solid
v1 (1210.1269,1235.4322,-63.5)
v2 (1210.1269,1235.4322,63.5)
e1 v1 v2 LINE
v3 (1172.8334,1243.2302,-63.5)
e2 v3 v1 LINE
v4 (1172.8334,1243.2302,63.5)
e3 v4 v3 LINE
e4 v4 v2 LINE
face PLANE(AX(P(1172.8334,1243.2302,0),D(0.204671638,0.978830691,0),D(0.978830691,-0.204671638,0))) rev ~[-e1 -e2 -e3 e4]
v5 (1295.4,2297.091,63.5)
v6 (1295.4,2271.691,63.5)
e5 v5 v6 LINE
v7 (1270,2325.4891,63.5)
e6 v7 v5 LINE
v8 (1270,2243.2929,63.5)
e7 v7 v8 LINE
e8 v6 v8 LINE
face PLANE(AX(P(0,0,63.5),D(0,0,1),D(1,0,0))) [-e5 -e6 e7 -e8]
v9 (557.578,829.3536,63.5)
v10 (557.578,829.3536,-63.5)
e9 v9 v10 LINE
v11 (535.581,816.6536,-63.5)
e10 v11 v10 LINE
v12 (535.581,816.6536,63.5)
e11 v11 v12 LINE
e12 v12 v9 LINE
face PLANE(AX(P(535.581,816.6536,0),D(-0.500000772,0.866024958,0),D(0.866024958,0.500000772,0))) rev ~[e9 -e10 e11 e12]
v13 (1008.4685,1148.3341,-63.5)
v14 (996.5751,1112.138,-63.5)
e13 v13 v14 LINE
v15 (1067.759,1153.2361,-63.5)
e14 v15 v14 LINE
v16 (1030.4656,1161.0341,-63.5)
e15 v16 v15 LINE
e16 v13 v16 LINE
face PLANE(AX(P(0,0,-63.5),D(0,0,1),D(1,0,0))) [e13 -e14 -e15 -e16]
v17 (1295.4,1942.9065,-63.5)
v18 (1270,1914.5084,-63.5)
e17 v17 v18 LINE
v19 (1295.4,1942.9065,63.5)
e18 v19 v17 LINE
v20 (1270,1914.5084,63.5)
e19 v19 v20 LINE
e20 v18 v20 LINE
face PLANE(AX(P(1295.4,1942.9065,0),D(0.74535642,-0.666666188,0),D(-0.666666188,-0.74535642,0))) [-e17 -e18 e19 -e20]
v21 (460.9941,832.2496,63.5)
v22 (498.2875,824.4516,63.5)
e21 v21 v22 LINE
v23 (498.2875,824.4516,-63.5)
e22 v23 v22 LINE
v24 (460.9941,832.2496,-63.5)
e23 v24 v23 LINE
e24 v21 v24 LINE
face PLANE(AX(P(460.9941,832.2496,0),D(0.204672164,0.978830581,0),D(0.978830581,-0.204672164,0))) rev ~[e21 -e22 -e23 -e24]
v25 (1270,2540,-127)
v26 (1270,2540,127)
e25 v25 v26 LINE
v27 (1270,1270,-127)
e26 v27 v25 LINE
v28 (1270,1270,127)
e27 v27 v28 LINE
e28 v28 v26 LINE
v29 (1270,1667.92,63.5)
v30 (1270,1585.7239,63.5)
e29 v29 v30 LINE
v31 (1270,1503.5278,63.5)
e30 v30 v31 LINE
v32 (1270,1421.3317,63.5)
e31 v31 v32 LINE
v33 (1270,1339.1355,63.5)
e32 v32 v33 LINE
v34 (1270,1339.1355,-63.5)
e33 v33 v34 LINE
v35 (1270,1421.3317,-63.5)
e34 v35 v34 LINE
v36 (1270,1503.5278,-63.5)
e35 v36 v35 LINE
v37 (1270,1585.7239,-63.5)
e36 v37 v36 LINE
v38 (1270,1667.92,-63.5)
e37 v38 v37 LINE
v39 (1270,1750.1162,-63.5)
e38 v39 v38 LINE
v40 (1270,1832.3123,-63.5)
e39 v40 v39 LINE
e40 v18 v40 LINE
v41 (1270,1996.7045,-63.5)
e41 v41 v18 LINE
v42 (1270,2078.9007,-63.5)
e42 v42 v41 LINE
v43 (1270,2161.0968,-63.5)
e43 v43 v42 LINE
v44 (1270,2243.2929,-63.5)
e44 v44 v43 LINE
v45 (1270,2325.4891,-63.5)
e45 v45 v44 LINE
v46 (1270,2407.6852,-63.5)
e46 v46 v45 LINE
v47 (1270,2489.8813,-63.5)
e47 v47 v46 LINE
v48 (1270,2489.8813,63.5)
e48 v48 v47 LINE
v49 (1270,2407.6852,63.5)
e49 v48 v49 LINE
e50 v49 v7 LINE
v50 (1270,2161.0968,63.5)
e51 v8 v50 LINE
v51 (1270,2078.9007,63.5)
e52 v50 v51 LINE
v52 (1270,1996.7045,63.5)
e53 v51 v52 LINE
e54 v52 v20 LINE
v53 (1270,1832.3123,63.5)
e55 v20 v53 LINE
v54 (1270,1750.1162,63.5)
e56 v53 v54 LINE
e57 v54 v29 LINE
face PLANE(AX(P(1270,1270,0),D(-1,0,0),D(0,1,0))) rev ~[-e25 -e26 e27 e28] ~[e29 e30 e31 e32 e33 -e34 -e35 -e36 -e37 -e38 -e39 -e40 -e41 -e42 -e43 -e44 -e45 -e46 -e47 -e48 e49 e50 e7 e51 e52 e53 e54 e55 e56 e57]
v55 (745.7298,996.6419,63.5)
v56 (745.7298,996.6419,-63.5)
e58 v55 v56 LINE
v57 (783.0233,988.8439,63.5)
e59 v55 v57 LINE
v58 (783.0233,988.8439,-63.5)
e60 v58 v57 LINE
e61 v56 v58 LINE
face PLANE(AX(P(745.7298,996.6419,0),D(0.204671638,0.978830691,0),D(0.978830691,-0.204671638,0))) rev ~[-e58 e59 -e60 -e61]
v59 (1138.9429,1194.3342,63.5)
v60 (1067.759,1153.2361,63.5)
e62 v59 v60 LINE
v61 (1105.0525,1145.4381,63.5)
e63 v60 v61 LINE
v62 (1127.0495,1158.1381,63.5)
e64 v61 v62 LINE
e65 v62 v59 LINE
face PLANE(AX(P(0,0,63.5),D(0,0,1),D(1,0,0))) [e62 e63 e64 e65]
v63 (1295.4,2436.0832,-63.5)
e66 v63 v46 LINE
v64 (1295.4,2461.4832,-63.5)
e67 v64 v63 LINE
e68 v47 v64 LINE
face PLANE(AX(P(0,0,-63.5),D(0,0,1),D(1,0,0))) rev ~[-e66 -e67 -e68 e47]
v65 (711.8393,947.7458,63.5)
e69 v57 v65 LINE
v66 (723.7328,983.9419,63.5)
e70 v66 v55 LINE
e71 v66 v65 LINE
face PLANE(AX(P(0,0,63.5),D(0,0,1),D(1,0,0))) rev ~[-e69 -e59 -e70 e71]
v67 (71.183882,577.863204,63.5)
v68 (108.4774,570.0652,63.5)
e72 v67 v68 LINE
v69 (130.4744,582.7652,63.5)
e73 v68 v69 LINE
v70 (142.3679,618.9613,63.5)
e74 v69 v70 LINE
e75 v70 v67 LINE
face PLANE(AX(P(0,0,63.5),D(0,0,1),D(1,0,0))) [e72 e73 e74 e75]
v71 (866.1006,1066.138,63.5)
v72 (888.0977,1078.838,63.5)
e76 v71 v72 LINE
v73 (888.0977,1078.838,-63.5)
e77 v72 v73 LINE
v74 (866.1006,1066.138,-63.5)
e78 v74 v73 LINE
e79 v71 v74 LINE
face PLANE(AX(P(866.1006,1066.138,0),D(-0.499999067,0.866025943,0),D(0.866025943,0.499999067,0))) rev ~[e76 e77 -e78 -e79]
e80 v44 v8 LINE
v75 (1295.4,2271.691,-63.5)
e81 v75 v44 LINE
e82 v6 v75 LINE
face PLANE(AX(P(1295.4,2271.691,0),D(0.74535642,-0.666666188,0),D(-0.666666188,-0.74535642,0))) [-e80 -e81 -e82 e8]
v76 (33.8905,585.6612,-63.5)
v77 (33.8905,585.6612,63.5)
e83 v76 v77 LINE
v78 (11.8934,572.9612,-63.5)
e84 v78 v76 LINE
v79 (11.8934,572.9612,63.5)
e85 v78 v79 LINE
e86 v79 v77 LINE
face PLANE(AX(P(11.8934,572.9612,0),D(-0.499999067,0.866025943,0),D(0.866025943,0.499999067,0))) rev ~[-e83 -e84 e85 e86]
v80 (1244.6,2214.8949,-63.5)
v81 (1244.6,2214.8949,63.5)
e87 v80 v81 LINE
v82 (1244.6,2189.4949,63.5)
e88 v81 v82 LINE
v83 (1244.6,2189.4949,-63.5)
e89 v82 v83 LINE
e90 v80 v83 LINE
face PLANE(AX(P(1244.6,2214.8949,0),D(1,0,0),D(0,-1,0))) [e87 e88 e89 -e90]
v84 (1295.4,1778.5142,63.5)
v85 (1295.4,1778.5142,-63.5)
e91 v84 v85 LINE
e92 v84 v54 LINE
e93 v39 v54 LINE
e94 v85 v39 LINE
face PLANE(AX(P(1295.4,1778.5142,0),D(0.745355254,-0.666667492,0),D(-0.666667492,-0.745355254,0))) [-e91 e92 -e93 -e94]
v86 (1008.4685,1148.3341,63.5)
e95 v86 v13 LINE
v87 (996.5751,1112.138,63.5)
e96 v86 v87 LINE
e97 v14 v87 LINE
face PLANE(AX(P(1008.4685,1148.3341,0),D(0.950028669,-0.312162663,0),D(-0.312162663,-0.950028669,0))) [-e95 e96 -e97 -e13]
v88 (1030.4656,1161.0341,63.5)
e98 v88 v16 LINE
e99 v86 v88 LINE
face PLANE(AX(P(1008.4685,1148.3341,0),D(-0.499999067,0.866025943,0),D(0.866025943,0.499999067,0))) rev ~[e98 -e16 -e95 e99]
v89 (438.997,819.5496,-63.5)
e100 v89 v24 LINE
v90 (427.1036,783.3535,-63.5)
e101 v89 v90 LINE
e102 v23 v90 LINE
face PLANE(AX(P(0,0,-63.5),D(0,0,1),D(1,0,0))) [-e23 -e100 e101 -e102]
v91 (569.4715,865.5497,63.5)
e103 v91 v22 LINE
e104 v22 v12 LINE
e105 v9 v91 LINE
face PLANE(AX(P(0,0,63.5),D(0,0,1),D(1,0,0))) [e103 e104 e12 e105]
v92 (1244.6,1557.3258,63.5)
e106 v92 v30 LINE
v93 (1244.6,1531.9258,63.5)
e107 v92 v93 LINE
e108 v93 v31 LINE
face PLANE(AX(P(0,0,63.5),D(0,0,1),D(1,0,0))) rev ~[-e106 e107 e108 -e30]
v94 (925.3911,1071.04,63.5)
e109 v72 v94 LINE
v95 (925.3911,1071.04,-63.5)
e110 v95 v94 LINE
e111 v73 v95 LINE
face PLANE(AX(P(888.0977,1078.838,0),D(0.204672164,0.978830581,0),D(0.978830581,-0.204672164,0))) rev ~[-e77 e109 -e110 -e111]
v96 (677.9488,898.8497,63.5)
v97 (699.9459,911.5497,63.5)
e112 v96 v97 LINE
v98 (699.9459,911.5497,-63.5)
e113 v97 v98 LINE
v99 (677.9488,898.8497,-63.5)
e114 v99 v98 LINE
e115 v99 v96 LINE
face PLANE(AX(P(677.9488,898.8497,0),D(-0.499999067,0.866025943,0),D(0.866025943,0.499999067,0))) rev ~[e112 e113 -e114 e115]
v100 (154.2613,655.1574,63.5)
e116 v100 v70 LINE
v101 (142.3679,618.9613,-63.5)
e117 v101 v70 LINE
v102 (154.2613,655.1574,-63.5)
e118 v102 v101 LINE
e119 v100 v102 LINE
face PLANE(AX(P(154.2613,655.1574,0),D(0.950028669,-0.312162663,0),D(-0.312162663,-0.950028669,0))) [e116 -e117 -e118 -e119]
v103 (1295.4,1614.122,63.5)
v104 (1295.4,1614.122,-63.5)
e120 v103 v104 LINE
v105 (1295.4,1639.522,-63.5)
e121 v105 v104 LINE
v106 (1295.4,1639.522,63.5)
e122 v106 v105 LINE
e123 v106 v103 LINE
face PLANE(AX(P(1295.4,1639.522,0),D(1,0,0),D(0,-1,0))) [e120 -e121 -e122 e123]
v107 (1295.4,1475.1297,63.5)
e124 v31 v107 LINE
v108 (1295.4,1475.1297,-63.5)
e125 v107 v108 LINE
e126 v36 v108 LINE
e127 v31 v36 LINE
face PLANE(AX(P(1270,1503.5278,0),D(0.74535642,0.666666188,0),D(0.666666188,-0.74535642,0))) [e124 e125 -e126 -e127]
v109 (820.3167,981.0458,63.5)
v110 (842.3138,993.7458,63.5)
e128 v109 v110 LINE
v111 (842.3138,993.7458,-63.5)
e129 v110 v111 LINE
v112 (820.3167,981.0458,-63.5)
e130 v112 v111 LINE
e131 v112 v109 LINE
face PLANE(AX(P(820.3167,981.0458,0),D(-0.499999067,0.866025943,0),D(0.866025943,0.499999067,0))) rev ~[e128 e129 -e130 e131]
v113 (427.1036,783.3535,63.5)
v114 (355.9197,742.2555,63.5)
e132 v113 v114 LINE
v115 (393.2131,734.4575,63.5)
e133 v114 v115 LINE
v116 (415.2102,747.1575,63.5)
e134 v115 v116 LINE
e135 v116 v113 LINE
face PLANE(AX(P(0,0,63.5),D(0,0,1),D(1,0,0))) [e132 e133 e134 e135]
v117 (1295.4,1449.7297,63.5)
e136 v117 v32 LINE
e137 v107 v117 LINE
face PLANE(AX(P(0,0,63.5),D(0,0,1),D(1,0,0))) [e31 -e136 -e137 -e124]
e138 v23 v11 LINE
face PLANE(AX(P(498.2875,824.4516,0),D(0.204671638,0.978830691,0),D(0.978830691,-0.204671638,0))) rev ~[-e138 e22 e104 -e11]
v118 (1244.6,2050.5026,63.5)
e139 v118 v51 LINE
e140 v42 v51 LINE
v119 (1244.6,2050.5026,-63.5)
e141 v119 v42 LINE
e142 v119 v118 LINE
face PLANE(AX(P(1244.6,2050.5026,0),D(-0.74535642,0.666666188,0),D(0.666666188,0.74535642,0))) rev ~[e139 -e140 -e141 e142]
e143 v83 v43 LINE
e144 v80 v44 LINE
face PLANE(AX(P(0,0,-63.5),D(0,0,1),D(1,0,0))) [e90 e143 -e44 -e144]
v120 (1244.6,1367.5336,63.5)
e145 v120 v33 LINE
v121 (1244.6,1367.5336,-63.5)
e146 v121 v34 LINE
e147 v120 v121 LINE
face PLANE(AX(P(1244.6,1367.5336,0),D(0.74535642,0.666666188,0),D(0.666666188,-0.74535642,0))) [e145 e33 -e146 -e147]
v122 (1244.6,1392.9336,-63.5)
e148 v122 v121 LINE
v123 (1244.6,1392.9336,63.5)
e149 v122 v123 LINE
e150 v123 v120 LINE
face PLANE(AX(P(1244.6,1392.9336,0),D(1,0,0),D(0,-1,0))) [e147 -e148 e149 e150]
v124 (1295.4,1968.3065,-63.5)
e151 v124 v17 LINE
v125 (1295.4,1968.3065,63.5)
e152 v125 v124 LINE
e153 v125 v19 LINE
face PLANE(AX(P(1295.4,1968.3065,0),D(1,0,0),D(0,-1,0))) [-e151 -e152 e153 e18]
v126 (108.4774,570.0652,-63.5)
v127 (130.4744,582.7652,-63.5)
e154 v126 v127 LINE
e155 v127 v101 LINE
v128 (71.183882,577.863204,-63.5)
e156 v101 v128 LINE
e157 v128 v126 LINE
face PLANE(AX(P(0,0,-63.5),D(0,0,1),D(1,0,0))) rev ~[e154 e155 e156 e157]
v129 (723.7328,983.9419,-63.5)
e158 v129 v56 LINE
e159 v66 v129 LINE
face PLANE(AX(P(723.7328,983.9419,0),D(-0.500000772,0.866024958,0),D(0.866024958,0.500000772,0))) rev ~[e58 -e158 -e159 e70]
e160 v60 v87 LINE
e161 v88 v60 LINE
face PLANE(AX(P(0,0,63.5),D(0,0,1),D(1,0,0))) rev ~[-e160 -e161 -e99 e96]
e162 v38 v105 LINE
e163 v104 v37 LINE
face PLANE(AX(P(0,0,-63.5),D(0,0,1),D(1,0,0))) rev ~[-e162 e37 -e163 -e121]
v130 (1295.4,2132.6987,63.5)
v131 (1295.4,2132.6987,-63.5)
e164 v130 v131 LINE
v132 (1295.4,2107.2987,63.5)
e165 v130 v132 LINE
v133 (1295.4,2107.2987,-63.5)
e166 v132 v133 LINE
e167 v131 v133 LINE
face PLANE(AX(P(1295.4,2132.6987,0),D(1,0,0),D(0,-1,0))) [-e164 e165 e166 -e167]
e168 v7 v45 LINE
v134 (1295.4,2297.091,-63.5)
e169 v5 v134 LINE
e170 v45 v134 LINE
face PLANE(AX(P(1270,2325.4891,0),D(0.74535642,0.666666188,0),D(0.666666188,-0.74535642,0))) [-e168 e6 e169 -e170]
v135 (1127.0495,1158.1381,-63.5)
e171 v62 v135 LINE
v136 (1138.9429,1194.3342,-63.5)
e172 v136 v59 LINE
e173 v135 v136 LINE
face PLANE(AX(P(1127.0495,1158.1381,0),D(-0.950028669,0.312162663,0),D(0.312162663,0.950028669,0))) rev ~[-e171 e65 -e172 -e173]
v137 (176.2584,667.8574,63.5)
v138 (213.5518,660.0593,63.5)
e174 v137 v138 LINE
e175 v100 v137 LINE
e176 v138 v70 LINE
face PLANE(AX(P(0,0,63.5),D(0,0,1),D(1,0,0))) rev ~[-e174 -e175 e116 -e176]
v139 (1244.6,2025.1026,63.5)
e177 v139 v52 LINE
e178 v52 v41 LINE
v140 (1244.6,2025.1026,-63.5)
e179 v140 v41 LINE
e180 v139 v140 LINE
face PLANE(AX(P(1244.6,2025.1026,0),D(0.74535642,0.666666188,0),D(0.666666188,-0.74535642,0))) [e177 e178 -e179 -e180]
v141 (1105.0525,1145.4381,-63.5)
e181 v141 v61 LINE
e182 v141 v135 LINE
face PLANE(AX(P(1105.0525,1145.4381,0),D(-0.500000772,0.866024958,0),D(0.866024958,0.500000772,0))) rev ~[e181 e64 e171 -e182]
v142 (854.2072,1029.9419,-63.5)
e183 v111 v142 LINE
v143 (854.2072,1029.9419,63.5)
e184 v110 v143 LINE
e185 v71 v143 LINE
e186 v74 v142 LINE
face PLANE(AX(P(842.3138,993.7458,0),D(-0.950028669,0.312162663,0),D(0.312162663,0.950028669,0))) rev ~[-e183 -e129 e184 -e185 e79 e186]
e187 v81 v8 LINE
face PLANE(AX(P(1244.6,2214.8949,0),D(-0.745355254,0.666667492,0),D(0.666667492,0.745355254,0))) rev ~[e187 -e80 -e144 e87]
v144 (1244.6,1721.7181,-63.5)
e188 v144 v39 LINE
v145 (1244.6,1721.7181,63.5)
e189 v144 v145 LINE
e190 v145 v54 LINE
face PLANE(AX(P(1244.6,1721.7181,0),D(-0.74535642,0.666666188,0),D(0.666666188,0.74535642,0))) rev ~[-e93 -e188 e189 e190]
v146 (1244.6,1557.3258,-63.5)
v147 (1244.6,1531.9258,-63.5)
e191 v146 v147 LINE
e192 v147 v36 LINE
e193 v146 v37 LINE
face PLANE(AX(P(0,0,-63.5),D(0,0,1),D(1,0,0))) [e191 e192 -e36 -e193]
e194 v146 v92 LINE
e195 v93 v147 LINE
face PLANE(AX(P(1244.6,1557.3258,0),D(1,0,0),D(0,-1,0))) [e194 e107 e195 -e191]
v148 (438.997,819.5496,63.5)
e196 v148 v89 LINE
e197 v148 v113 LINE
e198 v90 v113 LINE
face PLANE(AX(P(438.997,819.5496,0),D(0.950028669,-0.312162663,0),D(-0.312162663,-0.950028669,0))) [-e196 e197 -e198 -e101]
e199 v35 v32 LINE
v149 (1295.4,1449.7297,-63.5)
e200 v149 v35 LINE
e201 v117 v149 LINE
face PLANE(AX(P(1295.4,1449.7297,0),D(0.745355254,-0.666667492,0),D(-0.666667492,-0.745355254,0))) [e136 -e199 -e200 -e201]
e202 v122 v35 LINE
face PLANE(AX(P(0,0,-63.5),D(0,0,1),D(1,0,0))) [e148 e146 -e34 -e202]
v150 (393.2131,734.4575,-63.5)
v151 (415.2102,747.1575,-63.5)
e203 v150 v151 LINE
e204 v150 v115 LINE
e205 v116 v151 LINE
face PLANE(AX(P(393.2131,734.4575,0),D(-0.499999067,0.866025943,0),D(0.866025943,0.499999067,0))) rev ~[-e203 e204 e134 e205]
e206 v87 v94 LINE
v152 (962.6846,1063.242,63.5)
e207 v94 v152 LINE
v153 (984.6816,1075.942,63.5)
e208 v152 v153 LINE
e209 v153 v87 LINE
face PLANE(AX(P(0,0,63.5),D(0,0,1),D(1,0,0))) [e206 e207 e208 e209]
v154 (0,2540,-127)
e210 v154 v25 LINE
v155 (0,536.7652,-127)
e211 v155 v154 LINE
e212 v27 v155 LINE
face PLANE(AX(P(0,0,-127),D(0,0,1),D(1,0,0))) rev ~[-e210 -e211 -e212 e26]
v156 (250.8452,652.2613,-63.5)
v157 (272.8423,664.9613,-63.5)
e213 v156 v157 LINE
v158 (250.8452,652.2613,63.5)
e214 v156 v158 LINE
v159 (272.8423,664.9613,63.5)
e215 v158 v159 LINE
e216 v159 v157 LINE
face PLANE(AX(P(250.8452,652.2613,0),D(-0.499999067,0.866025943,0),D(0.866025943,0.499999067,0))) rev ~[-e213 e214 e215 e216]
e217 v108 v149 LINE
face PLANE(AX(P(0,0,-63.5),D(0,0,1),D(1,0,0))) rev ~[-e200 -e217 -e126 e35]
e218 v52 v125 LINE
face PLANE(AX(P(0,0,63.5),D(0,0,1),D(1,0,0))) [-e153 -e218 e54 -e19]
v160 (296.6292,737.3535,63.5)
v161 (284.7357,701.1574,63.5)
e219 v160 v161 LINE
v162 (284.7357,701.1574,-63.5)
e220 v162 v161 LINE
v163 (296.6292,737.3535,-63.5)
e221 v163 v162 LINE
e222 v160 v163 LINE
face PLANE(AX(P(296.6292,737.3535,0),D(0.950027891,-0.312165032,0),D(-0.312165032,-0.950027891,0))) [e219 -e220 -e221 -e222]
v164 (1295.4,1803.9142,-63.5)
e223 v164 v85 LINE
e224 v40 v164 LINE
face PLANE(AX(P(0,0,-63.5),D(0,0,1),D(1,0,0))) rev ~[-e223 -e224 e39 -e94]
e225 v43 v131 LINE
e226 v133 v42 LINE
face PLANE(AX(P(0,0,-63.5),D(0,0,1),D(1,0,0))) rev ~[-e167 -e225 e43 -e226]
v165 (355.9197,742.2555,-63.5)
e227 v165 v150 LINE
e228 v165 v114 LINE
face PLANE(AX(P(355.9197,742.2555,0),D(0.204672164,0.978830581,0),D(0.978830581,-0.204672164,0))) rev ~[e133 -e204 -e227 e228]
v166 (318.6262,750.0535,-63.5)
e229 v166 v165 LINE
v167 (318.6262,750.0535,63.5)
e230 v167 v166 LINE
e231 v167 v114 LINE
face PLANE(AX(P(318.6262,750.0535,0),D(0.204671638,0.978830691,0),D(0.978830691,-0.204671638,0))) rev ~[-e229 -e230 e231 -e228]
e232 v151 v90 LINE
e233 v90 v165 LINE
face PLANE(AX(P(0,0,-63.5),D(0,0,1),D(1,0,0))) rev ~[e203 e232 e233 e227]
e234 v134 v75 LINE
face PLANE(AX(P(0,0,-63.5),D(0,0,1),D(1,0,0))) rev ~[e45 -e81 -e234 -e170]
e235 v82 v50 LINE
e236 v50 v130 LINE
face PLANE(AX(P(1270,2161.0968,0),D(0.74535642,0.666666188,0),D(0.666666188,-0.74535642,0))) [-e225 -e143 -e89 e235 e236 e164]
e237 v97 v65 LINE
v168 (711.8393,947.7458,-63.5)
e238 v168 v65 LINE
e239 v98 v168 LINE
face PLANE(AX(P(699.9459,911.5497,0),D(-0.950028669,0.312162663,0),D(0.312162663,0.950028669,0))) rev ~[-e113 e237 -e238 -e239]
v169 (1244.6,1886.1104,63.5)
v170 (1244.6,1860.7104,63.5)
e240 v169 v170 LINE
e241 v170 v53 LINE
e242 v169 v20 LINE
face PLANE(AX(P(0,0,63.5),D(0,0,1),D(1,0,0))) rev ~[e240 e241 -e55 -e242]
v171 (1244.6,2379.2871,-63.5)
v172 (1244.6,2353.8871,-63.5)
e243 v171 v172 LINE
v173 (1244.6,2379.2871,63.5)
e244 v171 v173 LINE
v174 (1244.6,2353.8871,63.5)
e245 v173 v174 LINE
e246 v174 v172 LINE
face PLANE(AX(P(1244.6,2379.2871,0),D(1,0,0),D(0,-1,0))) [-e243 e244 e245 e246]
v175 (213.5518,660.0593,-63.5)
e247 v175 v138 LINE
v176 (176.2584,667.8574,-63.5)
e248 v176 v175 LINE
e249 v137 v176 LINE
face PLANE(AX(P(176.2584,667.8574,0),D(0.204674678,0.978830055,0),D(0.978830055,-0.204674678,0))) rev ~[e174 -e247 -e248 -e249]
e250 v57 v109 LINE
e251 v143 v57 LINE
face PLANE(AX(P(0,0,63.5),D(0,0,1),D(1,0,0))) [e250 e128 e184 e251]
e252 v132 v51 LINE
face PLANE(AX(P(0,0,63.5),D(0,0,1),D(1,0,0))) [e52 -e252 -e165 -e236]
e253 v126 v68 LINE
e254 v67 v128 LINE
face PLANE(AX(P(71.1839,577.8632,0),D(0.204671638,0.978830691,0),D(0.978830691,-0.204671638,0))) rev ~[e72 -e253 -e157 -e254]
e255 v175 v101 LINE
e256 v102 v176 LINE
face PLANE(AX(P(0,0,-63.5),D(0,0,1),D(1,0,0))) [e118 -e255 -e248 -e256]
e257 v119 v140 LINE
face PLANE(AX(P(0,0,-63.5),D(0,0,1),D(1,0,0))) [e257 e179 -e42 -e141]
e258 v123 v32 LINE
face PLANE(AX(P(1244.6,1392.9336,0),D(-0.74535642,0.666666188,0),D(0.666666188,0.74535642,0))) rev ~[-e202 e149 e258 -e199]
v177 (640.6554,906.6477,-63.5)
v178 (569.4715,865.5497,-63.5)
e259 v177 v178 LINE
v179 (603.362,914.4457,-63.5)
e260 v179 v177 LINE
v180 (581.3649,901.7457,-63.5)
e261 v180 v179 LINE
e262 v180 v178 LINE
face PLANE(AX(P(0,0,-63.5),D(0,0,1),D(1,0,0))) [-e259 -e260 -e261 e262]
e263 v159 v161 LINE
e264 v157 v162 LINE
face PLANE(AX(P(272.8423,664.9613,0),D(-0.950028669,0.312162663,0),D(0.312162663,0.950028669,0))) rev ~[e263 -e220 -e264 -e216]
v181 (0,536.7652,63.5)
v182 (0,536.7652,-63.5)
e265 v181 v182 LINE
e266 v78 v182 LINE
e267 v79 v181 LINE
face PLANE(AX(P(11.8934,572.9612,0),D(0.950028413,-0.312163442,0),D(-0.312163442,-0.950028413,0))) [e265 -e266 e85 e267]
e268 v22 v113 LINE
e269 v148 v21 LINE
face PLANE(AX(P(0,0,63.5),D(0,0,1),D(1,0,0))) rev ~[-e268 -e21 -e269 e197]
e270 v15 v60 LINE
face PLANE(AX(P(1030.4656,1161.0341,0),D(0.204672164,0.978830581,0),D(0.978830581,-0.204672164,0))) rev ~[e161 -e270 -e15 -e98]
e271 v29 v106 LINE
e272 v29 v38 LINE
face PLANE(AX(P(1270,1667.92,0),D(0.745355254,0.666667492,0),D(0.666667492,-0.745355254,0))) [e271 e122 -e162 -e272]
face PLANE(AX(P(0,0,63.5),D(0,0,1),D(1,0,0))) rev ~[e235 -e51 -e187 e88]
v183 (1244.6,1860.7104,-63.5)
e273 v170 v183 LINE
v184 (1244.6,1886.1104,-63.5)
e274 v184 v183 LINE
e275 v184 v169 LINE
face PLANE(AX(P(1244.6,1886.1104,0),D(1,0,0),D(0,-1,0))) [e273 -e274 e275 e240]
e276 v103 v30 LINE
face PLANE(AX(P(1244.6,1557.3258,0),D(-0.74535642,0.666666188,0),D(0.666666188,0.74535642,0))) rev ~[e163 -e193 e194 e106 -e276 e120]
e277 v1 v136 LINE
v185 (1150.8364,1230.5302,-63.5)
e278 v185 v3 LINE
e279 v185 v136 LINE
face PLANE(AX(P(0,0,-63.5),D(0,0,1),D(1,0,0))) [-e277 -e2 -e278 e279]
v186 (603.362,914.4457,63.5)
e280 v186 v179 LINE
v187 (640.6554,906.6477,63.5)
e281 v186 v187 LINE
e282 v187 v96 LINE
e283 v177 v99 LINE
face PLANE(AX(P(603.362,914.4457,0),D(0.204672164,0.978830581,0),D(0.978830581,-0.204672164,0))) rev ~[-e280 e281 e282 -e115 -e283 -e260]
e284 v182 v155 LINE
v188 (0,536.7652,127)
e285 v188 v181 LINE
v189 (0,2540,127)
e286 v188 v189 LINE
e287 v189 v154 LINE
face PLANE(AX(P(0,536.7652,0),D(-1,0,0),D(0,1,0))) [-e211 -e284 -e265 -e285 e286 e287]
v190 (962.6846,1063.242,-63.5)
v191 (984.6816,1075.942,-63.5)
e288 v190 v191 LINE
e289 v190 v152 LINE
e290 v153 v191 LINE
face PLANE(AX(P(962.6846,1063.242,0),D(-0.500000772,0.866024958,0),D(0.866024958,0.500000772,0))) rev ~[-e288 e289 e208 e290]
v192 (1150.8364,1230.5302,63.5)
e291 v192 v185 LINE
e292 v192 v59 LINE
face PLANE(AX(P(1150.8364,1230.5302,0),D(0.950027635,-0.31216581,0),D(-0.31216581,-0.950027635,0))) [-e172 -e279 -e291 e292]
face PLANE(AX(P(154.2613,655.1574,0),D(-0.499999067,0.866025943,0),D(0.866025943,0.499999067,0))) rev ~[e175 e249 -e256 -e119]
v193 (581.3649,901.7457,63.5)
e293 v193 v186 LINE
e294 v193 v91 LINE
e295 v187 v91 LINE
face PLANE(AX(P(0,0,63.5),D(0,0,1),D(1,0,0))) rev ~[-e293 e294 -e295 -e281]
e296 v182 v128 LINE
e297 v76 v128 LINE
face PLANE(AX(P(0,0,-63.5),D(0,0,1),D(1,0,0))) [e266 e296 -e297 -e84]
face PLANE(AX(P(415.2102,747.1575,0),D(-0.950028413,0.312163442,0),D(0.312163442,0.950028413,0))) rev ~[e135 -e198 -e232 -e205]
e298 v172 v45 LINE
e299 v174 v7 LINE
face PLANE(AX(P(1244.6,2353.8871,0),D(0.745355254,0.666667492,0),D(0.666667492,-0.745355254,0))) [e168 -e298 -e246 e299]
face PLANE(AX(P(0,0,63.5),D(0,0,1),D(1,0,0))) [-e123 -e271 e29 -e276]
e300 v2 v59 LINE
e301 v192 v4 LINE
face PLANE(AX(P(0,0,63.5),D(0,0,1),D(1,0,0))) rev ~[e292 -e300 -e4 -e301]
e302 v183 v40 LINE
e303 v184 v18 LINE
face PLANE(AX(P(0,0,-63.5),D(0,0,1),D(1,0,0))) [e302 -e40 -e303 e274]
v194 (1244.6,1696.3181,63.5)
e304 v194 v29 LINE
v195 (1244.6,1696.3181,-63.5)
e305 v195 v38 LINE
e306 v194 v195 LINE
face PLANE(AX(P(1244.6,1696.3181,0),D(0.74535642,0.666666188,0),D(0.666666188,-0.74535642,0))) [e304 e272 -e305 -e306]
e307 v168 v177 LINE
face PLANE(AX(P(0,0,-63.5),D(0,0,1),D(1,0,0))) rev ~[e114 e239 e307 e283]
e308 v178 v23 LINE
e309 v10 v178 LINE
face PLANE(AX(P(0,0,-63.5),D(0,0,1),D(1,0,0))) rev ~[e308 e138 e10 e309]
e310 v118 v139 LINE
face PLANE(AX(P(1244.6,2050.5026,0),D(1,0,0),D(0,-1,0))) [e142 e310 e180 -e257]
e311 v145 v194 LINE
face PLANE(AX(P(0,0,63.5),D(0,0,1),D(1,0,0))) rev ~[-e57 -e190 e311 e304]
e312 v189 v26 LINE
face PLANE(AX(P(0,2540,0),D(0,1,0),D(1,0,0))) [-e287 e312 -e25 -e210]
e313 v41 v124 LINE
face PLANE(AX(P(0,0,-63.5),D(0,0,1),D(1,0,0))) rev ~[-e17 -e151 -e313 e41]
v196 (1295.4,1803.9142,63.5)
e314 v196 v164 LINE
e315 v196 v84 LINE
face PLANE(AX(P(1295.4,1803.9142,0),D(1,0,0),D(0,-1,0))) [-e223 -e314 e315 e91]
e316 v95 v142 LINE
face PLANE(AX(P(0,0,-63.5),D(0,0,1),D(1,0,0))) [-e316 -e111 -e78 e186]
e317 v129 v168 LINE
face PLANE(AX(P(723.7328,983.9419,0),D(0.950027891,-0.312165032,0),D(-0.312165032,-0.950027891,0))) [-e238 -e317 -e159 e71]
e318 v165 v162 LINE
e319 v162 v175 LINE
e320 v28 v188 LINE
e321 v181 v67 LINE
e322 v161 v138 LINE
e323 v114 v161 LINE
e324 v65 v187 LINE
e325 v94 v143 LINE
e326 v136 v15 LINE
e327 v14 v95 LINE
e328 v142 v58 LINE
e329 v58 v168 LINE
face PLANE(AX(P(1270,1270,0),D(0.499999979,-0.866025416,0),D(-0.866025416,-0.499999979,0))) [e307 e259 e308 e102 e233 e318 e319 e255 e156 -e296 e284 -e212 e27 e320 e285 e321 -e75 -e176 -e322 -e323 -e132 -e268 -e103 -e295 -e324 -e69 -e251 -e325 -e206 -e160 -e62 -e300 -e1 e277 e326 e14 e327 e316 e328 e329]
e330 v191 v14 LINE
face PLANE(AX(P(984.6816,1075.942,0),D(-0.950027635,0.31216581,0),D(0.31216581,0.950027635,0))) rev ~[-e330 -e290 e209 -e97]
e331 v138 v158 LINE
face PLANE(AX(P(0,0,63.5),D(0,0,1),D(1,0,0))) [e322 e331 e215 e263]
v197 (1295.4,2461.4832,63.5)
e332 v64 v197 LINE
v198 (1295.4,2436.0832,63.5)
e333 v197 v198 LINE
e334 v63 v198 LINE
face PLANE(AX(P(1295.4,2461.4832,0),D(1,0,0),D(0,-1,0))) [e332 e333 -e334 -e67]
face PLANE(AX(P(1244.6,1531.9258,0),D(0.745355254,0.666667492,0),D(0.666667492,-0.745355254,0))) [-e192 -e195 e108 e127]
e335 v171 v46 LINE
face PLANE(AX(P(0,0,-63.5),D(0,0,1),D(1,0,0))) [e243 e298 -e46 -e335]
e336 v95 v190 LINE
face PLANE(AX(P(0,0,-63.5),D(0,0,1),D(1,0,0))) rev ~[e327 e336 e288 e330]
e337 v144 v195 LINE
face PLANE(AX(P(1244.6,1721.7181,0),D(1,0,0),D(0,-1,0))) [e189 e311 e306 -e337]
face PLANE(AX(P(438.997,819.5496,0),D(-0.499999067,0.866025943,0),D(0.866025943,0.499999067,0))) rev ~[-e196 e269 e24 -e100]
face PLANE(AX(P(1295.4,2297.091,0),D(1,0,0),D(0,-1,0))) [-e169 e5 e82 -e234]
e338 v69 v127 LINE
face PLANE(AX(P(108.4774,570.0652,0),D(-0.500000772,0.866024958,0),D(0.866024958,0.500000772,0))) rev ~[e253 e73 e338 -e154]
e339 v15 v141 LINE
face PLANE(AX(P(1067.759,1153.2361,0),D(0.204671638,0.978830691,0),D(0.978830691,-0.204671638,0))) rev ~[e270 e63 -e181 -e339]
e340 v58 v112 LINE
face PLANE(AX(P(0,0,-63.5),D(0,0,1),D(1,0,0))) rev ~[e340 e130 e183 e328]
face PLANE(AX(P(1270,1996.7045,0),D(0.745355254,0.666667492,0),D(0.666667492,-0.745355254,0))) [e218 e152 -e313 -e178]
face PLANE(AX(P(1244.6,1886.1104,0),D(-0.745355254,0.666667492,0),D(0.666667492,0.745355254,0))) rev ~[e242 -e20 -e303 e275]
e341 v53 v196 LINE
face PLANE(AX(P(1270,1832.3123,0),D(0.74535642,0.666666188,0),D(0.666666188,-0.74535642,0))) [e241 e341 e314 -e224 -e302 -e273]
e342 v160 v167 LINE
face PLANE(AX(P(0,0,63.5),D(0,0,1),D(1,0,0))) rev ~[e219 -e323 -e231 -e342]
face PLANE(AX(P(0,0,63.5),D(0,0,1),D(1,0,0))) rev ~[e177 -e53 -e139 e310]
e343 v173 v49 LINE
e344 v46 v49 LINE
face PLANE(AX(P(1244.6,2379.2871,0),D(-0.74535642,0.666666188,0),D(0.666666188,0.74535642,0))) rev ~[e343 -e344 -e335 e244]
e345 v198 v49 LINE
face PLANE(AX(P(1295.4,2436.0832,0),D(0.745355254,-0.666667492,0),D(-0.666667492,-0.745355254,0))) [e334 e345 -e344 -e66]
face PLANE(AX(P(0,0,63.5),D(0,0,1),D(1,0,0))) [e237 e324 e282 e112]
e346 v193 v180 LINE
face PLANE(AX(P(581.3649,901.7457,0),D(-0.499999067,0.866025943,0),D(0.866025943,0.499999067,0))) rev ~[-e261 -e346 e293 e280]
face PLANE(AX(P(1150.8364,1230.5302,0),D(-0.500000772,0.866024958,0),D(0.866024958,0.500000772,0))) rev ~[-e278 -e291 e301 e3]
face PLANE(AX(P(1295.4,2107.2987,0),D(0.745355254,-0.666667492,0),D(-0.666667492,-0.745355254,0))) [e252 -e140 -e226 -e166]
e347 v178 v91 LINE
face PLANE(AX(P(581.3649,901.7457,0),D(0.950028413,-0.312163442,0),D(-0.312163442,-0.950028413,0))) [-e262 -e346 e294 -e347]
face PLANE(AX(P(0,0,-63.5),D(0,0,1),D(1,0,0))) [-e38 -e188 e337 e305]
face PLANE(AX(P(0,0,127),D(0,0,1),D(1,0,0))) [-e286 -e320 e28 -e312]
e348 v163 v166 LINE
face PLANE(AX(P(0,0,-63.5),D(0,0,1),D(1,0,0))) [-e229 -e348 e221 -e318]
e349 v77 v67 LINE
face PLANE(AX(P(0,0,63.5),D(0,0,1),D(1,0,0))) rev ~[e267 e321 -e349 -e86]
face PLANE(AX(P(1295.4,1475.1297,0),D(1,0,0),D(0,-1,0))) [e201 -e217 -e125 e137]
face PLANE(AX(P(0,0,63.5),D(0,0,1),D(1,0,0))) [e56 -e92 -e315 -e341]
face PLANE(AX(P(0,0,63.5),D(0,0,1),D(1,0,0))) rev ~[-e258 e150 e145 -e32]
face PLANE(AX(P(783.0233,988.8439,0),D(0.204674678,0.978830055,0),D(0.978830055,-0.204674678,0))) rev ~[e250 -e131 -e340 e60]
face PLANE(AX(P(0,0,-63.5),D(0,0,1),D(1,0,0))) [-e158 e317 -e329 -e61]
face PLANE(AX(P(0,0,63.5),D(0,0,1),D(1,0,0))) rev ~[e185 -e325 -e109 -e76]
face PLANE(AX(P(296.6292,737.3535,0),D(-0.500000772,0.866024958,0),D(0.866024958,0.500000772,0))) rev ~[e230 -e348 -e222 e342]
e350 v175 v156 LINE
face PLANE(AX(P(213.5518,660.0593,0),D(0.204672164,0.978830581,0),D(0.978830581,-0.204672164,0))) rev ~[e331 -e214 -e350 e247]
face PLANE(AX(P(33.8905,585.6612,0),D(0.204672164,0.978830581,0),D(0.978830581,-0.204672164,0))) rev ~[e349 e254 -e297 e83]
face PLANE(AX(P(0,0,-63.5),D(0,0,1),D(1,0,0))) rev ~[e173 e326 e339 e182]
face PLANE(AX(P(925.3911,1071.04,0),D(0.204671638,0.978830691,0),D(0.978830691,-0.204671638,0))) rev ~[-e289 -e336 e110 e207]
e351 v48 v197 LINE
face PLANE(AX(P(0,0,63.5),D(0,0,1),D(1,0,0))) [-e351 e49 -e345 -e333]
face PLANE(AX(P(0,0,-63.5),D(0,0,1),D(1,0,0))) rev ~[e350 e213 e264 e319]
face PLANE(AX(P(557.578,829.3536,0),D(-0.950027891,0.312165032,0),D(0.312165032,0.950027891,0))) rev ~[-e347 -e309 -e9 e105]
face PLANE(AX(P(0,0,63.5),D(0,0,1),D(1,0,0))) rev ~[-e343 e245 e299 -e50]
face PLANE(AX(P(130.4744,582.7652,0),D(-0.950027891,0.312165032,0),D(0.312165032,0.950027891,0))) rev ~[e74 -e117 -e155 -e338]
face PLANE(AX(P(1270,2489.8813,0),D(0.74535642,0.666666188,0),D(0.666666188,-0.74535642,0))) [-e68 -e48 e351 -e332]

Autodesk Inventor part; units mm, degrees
ref_plane "YZ Plane" through (0, 0, 0) normal (1, 0, 0) x (0, 1, 0)
ref_plane "XZ Plane" through (0, 0, 0) normal (0, 1, 0) x (-1, 0, 0)
ref_plane "XY Plane" through (0, 0, 0) normal (0, 0, 1) x (1, 0, 0)
sketch "Sketch1" plane through (0, 0, 0) normal (0, 0, 1) x (1, 0, 0)
  line L0 (1270, 1270) -> (0, 536.7652)
  line L1 (0, 536.7652) -> (0, 2540)
  line L2 (0, 2540) -> (1270, 2540)
  line L3 (1270, 1270) -> (1270, 2540)
  dimension "d446" = 2003.2348
extrude "door" add sketch "Sketch1" along normal mid plane 254
sketch "Sketch3" plane through (0, 0, 0) normal (0, 0, 1) x (1, 0, 0)
  line L0 (33.8905, 585.6612) -> (71.1839, 577.8632)
  line L1 (35.592, 557.3142) -> (22.892, 579.3112) construction
  line L2 (11.8934, 572.9612) -> (33.8905, 585.6612)
  line L3 (11.8934, 572.9612) -> (0, 536.7652)
  line L4 (0, 536.7652) -> (71.1839, 577.8632)
  line L5 (71.1839, 577.8632) -> (108.4774, 570.0652)
  line L6 (108.4774, 570.0652) -> (130.4744, 582.7652)
  line L7 (130.4744, 582.7652) -> (142.3679, 618.9613)
  line L8 (1270, 1270) -> (0, 536.7652) projected
  line L9 (71.1839, 577.8632) -> (142.3679, 618.9613)
  line L10 (106.7759, 598.4123) -> (119.4759, 576.4152) construction
  line L11 (154.2613, 655.1574) -> (142.3679, 618.9613)
  line L12 (154.2613, 655.1574) -> (176.2584, 667.8574)
  line L13 (177.9598, 639.5103) -> (165.2598, 661.5074) construction
  line L14 (176.2584, 667.8574) -> (213.5518, 660.0593)
  line L15 (142.3679, 618.9613) -> (213.5518, 660.0593)
  line L16 (213.5518, 660.0593) -> (250.8452, 652.2613)
  line L17 (250.8452, 652.2613) -> (272.8423, 664.9613)
  line L18 (272.8423, 664.9613) -> (284.7357, 701.1574)
  line L19 (213.5518, 660.0593) -> (284.7357, 701.1574)
  line L20 (249.1438, 680.6084) -> (261.8438, 658.6113) construction
  line L21 (296.6292, 737.3535) -> (284.7357, 701.1574)
  line L22 (296.6292, 737.3535) -> (318.6262, 750.0535)
  line L23 (320.3277, 721.7064) -> (307.6277, 743.7035) construction
  line L24 (318.6262, 750.0535) -> (355.9197, 742.2555)
  line L25 (284.7357, 701.1574) -> (355.9197, 742.2555)
  line L26 (355.9197, 742.2555) -> (393.2131, 734.4575)
  line L27 (393.2131, 734.4575) -> (415.2102, 747.1575)
  line L28 (415.2102, 747.1575) -> (427.1036, 783.3535)
  line L29 (355.9197, 742.2555) -> (427.1036, 783.3535)
  line L30 (391.5116, 762.8045) -> (404.2116, 740.8075) construction
  line L31 (438.997, 819.5496) -> (427.1036, 783.3535)
  line L32 (438.997, 819.5496) -> (460.9941, 832.2496)
  line L33 (462.6956, 803.9026) -> (449.9956, 825.8996) construction
  line L34 (460.9941, 832.2496) -> (498.2875, 824.4516)
  line L35 (427.1036, 783.3535) -> (498.2875, 824.4516)
  line L36 (498.2875, 824.4516) -> (535.581, 816.6536)
  line L37 (535.581, 816.6536) -> (557.578, 829.3536)
  line L38 (557.578, 829.3536) -> (569.4715, 865.5497)
  line L39 (498.2875, 824.4516) -> (569.4715, 865.5497)
  line L40 (533.8795, 845.0006) -> (546.5795, 823.0036) construction
  line L41 (581.3649, 901.7457) -> (569.4715, 865.5497)
  line L42 (581.3649, 901.7457) -> (603.362, 914.4457)
  line L43 (605.0634, 886.0987) -> (592.3634, 908.0957) construction
  line L44 (603.362, 914.4457) -> (640.6554, 906.6477)
  line L45 (569.4715, 865.5497) -> (640.6554, 906.6477)
  line L46 (640.6554, 906.6477) -> (677.9488, 898.8497)
  line L47 (677.9488, 898.8497) -> (699.9459, 911.5497)
  line L48 (699.9459, 911.5497) -> (711.8393, 947.7458)
  line L49 (640.6554, 906.6477) -> (711.8393, 947.7458)
  line L50 (676.2474, 927.1968) -> (688.9474, 905.1997) construction
  line L51 (723.7328, 983.9419) -> (711.8393, 947.7458)
  line L52 (723.7328, 983.9419) -> (745.7298, 996.6419)
  line L53 (747.4313, 968.2948) -> (734.7313, 990.2919) construction
  line L54 (745.7298, 996.6419) -> (783.0233, 988.8439)
  line L55 (711.8393, 947.7458) -> (783.0233, 988.8439)
  line L56 (783.0233, 988.8439) -> (820.3167, 981.0458)
  line L57 (820.3167, 981.0458) -> (842.3138, 993.7458)
  line L58 (842.3138, 993.7458) -> (854.2072, 1029.9419)
  line L59 (783.0233, 988.8439) -> (854.2072, 1029.9419)
  line L60 (818.6152, 1009.3929) -> (831.3152, 987.3958) construction
  line L61 (866.1006, 1066.138) -> (854.2072, 1029.9419)
  line L62 (866.1006, 1066.138) -> (888.0977, 1078.838)
  line L63 (889.7992, 1050.4909) -> (877.0992, 1072.488) construction
  line L64 (888.0977, 1078.838) -> (925.3911, 1071.04)
  line L65 (854.2072, 1029.9419) -> (925.3911, 1071.04)
  line L66 (925.3911, 1071.04) -> (962.6846, 1063.242)
  line L67 (962.6846, 1063.242) -> (984.6816, 1075.942)
  line L68 (984.6816, 1075.942) -> (996.5751, 1112.138)
  line L69 (925.3911, 1071.04) -> (996.5751, 1112.138)
  line L70 (960.9831, 1091.589) -> (973.6831, 1069.592) construction
  line L71 (1008.4685, 1148.3341) -> (996.5751, 1112.138)
  line L72 (1008.4685, 1148.3341) -> (1030.4656, 1161.0341)
  line L73 (1032.167, 1132.6871) -> (1019.467, 1154.6841) construction
  line L74 (1030.4656, 1161.0341) -> (1067.759, 1153.2361)
  line L75 (996.5751, 1112.138) -> (1067.759, 1153.2361)
  line L76 (1067.759, 1153.2361) -> (1105.0525, 1145.4381)
  line L77 (1105.0525, 1145.4381) -> (1127.0495, 1158.1381)
  line L78 (1127.0495, 1158.1381) -> (1138.9429, 1194.3342)
  line L79 (1067.759, 1153.2361) -> (1138.9429, 1194.3342)
  line L80 (1103.351, 1173.7851) -> (1116.051, 1151.7881) construction
  line L81 (1172.8334, 1243.2302) -> (1210.1269, 1235.4322)
  line L82 (1174.5349, 1214.8832) -> (1161.8349, 1236.8802) construction
  line L83 (1150.8364, 1230.5302) -> (1172.8334, 1243.2302)
  line L84 (1150.8364, 1230.5302) -> (1138.9429, 1194.3342)
  line L85 (1138.9429, 1194.3342) -> (1210.1269, 1235.4322)
  line L86 (1295.4, 2436.0832) -> (1270, 2407.6852)
  line L87 (1295.4, 2461.4832) -> (1295.4, 2436.0832)
  line L88 (1270, 2448.7832) -> (1295.4, 2448.7832) construction
  line L89 (1270, 2489.8813) -> (1270, 2407.6852)
  line L90 (1270, 2489.8813) -> (1295.4, 2461.4832)
  line L91 (1295.4, 2271.691) -> (1270, 2243.2929)
  line L92 (1295.4, 2297.091) -> (1295.4, 2271.691)
  line L93 (1270, 2284.391) -> (1295.4, 2284.391) construction
  line L94 (1270, 2325.4891) -> (1270, 2243.2929)
  line L95 (1270, 2325.4891) -> (1295.4, 2297.091)
  line L96 (1244.6, 2353.8871) -> (1270, 2325.4891)
  line L97 (1270, 2366.5871) -> (1244.6, 2366.5871) construction
  line L98 (1244.6, 2379.2871) -> (1244.6, 2353.8871)
  line L99 (1244.6, 2379.2871) -> (1270, 2407.6852)
  line L100 (1270, 2407.6852) -> (1270, 2325.4891)
  line L101 (1295.4, 2107.2987) -> (1270, 2078.9007)
  line L102 (1295.4, 2132.6987) -> (1295.4, 2107.2987)
  line L103 (1270, 2119.9987) -> (1295.4, 2119.9987) construction
  line L104 (1270, 2161.0968) -> (1270, 2078.9007)
  line L105 (1270, 2161.0968) -> (1295.4, 2132.6987)
  line L106 (1244.6, 2189.4949) -> (1270, 2161.0968)
  line L107 (1270, 2202.1949) -> (1244.6, 2202.1949) construction
  line L108 (1244.6, 2214.8949) -> (1244.6, 2189.4949)
  line L109 (1244.6, 2214.8949) -> (1270, 2243.2929)
  line L110 (1270, 2243.2929) -> (1270, 2161.0968)
  line L111 (1295.4, 1942.9065) -> (1270, 1914.5084)
  line L112 (1295.4, 1968.3065) -> (1295.4, 1942.9065)
  line L113 (1270, 1955.6065) -> (1295.4, 1955.6065) construction
  line L114 (1270, 1996.7045) -> (1270, 1914.5084)
  line L115 (1270, 1996.7045) -> (1295.4, 1968.3065)
  line L116 (1244.6, 2025.1026) -> (1270, 1996.7045)
  line L117 (1270, 2037.8026) -> (1244.6, 2037.8026) construction
  line L118 (1244.6, 2050.5026) -> (1244.6, 2025.1026)
  line L119 (1244.6, 2050.5026) -> (1270, 2078.9007)
  line L120 (1270, 2078.9007) -> (1270, 1996.7045)
  line L121 (1295.4, 1778.5142) -> (1270, 1750.1162)
  line L122 (1295.4, 1803.9142) -> (1295.4, 1778.5142)
  line L123 (1270, 1791.2142) -> (1295.4, 1791.2142) construction
  line L124 (1270, 1832.3123) -> (1270, 1750.1162)
  line L125 (1270, 1832.3123) -> (1295.4, 1803.9142)
  line L126 (1244.6, 1860.7104) -> (1270, 1832.3123)
  line L127 (1270, 1873.4104) -> (1244.6, 1873.4104) construction
  line L128 (1244.6, 1886.1104) -> (1244.6, 1860.7104)
  line L129 (1244.6, 1886.1104) -> (1270, 1914.5084)
  line L130 (1270, 1914.5084) -> (1270, 1832.3123)
  line L131 (1295.4, 1614.122) -> (1270, 1585.7239)
  line L132 (1295.4, 1639.522) -> (1295.4, 1614.122)
  line L133 (1270, 1626.822) -> (1295.4, 1626.822) construction
  line L134 (1270, 1667.92) -> (1270, 1585.7239)
  line L135 (1270, 1667.92) -> (1295.4, 1639.522)
  line L136 (1244.6, 1696.3181) -> (1270, 1667.92)
  line L137 (1270, 1709.0181) -> (1244.6, 1709.0181) construction
  line L138 (1244.6, 1721.7181) -> (1244.6, 1696.3181)
  line L139 (1244.6, 1721.7181) -> (1270, 1750.1162)
  line L140 (1270, 1750.1162) -> (1270, 1667.92)
  line L141 (1295.4, 1449.7297) -> (1270, 1421.3317)
  line L142 (1295.4, 1475.1297) -> (1295.4, 1449.7297)
  line L143 (1270, 1462.4297) -> (1295.4, 1462.4297) construction
  line L144 (1270, 1503.5278) -> (1270, 1421.3317)
  line L145 (1270, 1503.5278) -> (1295.4, 1475.1297)
  line L146 (1244.6, 1531.9258) -> (1270, 1503.5278)
  line L147 (1270, 1544.6258) -> (1244.6, 1544.6258) construction
  line L148 (1244.6, 1557.3258) -> (1244.6, 1531.9258)
  line L149 (1244.6, 1557.3258) -> (1270, 1585.7239)
  line L150 (1270, 1585.7239) -> (1270, 1503.5278)
  line L151 (1244.6, 1392.9336) -> (1270, 1421.3317)
  line L152 (1270, 1380.2336) -> (1244.6, 1380.2336) construction
  line L153 (1244.6, 1392.9336) -> (1244.6, 1367.5336)
  line L154 (1270, 1421.3317) -> (1270, 1339.1355)
  line L155 (1244.6, 1367.5336) -> (1270, 1339.1355)
  line L156 (0, 536.7652) -> (0, 2540) projected
  dimension "d282" = 25.4
  dimension "d283" = 25.4
  dimension "d284" = 38.1
  dimension "d285" = 38.1
  dimension "d350" = 38.1
  dimension "d351" = 25.4
  dimension "d352" = 38.1
  dimension "d353" = 138.19
  dimension "d356" = 138.19
  dimension "d358" = 25.4
  dimension "d359" = 25.4
  dimension "d360" = 25.4
  dimension "d361" = 38.1
  dimension "d362" = 38.1
  dimension "d363" = 38.1
  dimension "d364" = 25.4
  dimension "d365" = 38.1
  dimension "d366" = 138.19
  dimension "d367" = 138.19
  dimension "d368" = 25.4
  dimension "d369" = 25.4
  dimension "d370" = 25.4
  dimension "d371" = 38.1
  dimension "d372" = 38.1
  dimension "d373" = 38.1
  dimension "d374" = 25.4
  dimension "d375" = 38.1
  dimension "d376" = 138.19
  dimension "d377" = 138.19
  dimension "d378" = 25.4
  dimension "d379" = 25.4
  dimension "d380" = 25.4
  dimension "d381" = 38.1
  dimension "d382" = 38.1
  dimension "d383" = 38.1
  dimension "d384" = 25.4
  dimension "d385" = 38.1
  dimension "d386" = 138.19
  dimension "d387" = 138.19
  dimension "d388" = 25.4
  dimension "d389" = 25.4
  dimension "d390" = 25.4
  dimension "d391" = 38.1
  dimension "d392" = 38.1
  dimension "d393" = 38.1
  dimension "d394" = 25.4
  dimension "d395" = 38.1
  dimension "d396" = 138.19
  dimension "d397" = 138.19
  dimension "d398" = 25.4
  dimension "d399" = 25.4
  dimension "d400" = 25.4
  dimension "d401" = 38.1
  dimension "d402" = 38.1
  dimension "d403" = 38.1
  dimension "d404" = 25.4
  dimension "d405" = 38.1
  dimension "d406" = 138.19
  dimension "d407" = 138.19
  dimension "d408" = 25.4
  dimension "d409" = 25.4
  dimension "d410" = 25.4
  dimension "d411" = 38.1
  dimension "d412" = 38.1
extrude "connection give" cut sketch "Sketch3" along normal mid plane 127 contours L84 L83 L81 L8 | L71 L72 L74 L8 | L61 L62 L64 L8 | L51 L52 L54 L8 | L41 L42 L44 L8 | L31 L32 L34 L8 | L21 L22 L24 L8 | L11 L12 L14 L8 | L0 L4 L3 L2 | L154 L155 L153 L151 | L150 L146 L148 L149 | L140 L136 L138 L139 | L130 L126 L128 L129 | L120 L116 L118 L119 | L110 L106 L108 L109 | L100 L96 L98 L99
extrude "connection receive" add sketch "Sketch3" along normal mid plane 127 contours L8 L78 L77 L76 | L8 L68 L67 L66 | L8 L58 L57 L56 | L8 L48 L47 L46 | L8 L38 L37 L36 | L8 L28 L27 L26 | L8 L18 L17 L16 | L8 L7 L6 L5 | L145 L142 L141 L144 | L135 L132 L131 L134 | L125 L122 L121 L124 | L115 L112 L111 L114 | L105 L102 L101 L104 | L95 L92 L91 L94 | L86 L89 L90 L87
properties part number "top left door"
